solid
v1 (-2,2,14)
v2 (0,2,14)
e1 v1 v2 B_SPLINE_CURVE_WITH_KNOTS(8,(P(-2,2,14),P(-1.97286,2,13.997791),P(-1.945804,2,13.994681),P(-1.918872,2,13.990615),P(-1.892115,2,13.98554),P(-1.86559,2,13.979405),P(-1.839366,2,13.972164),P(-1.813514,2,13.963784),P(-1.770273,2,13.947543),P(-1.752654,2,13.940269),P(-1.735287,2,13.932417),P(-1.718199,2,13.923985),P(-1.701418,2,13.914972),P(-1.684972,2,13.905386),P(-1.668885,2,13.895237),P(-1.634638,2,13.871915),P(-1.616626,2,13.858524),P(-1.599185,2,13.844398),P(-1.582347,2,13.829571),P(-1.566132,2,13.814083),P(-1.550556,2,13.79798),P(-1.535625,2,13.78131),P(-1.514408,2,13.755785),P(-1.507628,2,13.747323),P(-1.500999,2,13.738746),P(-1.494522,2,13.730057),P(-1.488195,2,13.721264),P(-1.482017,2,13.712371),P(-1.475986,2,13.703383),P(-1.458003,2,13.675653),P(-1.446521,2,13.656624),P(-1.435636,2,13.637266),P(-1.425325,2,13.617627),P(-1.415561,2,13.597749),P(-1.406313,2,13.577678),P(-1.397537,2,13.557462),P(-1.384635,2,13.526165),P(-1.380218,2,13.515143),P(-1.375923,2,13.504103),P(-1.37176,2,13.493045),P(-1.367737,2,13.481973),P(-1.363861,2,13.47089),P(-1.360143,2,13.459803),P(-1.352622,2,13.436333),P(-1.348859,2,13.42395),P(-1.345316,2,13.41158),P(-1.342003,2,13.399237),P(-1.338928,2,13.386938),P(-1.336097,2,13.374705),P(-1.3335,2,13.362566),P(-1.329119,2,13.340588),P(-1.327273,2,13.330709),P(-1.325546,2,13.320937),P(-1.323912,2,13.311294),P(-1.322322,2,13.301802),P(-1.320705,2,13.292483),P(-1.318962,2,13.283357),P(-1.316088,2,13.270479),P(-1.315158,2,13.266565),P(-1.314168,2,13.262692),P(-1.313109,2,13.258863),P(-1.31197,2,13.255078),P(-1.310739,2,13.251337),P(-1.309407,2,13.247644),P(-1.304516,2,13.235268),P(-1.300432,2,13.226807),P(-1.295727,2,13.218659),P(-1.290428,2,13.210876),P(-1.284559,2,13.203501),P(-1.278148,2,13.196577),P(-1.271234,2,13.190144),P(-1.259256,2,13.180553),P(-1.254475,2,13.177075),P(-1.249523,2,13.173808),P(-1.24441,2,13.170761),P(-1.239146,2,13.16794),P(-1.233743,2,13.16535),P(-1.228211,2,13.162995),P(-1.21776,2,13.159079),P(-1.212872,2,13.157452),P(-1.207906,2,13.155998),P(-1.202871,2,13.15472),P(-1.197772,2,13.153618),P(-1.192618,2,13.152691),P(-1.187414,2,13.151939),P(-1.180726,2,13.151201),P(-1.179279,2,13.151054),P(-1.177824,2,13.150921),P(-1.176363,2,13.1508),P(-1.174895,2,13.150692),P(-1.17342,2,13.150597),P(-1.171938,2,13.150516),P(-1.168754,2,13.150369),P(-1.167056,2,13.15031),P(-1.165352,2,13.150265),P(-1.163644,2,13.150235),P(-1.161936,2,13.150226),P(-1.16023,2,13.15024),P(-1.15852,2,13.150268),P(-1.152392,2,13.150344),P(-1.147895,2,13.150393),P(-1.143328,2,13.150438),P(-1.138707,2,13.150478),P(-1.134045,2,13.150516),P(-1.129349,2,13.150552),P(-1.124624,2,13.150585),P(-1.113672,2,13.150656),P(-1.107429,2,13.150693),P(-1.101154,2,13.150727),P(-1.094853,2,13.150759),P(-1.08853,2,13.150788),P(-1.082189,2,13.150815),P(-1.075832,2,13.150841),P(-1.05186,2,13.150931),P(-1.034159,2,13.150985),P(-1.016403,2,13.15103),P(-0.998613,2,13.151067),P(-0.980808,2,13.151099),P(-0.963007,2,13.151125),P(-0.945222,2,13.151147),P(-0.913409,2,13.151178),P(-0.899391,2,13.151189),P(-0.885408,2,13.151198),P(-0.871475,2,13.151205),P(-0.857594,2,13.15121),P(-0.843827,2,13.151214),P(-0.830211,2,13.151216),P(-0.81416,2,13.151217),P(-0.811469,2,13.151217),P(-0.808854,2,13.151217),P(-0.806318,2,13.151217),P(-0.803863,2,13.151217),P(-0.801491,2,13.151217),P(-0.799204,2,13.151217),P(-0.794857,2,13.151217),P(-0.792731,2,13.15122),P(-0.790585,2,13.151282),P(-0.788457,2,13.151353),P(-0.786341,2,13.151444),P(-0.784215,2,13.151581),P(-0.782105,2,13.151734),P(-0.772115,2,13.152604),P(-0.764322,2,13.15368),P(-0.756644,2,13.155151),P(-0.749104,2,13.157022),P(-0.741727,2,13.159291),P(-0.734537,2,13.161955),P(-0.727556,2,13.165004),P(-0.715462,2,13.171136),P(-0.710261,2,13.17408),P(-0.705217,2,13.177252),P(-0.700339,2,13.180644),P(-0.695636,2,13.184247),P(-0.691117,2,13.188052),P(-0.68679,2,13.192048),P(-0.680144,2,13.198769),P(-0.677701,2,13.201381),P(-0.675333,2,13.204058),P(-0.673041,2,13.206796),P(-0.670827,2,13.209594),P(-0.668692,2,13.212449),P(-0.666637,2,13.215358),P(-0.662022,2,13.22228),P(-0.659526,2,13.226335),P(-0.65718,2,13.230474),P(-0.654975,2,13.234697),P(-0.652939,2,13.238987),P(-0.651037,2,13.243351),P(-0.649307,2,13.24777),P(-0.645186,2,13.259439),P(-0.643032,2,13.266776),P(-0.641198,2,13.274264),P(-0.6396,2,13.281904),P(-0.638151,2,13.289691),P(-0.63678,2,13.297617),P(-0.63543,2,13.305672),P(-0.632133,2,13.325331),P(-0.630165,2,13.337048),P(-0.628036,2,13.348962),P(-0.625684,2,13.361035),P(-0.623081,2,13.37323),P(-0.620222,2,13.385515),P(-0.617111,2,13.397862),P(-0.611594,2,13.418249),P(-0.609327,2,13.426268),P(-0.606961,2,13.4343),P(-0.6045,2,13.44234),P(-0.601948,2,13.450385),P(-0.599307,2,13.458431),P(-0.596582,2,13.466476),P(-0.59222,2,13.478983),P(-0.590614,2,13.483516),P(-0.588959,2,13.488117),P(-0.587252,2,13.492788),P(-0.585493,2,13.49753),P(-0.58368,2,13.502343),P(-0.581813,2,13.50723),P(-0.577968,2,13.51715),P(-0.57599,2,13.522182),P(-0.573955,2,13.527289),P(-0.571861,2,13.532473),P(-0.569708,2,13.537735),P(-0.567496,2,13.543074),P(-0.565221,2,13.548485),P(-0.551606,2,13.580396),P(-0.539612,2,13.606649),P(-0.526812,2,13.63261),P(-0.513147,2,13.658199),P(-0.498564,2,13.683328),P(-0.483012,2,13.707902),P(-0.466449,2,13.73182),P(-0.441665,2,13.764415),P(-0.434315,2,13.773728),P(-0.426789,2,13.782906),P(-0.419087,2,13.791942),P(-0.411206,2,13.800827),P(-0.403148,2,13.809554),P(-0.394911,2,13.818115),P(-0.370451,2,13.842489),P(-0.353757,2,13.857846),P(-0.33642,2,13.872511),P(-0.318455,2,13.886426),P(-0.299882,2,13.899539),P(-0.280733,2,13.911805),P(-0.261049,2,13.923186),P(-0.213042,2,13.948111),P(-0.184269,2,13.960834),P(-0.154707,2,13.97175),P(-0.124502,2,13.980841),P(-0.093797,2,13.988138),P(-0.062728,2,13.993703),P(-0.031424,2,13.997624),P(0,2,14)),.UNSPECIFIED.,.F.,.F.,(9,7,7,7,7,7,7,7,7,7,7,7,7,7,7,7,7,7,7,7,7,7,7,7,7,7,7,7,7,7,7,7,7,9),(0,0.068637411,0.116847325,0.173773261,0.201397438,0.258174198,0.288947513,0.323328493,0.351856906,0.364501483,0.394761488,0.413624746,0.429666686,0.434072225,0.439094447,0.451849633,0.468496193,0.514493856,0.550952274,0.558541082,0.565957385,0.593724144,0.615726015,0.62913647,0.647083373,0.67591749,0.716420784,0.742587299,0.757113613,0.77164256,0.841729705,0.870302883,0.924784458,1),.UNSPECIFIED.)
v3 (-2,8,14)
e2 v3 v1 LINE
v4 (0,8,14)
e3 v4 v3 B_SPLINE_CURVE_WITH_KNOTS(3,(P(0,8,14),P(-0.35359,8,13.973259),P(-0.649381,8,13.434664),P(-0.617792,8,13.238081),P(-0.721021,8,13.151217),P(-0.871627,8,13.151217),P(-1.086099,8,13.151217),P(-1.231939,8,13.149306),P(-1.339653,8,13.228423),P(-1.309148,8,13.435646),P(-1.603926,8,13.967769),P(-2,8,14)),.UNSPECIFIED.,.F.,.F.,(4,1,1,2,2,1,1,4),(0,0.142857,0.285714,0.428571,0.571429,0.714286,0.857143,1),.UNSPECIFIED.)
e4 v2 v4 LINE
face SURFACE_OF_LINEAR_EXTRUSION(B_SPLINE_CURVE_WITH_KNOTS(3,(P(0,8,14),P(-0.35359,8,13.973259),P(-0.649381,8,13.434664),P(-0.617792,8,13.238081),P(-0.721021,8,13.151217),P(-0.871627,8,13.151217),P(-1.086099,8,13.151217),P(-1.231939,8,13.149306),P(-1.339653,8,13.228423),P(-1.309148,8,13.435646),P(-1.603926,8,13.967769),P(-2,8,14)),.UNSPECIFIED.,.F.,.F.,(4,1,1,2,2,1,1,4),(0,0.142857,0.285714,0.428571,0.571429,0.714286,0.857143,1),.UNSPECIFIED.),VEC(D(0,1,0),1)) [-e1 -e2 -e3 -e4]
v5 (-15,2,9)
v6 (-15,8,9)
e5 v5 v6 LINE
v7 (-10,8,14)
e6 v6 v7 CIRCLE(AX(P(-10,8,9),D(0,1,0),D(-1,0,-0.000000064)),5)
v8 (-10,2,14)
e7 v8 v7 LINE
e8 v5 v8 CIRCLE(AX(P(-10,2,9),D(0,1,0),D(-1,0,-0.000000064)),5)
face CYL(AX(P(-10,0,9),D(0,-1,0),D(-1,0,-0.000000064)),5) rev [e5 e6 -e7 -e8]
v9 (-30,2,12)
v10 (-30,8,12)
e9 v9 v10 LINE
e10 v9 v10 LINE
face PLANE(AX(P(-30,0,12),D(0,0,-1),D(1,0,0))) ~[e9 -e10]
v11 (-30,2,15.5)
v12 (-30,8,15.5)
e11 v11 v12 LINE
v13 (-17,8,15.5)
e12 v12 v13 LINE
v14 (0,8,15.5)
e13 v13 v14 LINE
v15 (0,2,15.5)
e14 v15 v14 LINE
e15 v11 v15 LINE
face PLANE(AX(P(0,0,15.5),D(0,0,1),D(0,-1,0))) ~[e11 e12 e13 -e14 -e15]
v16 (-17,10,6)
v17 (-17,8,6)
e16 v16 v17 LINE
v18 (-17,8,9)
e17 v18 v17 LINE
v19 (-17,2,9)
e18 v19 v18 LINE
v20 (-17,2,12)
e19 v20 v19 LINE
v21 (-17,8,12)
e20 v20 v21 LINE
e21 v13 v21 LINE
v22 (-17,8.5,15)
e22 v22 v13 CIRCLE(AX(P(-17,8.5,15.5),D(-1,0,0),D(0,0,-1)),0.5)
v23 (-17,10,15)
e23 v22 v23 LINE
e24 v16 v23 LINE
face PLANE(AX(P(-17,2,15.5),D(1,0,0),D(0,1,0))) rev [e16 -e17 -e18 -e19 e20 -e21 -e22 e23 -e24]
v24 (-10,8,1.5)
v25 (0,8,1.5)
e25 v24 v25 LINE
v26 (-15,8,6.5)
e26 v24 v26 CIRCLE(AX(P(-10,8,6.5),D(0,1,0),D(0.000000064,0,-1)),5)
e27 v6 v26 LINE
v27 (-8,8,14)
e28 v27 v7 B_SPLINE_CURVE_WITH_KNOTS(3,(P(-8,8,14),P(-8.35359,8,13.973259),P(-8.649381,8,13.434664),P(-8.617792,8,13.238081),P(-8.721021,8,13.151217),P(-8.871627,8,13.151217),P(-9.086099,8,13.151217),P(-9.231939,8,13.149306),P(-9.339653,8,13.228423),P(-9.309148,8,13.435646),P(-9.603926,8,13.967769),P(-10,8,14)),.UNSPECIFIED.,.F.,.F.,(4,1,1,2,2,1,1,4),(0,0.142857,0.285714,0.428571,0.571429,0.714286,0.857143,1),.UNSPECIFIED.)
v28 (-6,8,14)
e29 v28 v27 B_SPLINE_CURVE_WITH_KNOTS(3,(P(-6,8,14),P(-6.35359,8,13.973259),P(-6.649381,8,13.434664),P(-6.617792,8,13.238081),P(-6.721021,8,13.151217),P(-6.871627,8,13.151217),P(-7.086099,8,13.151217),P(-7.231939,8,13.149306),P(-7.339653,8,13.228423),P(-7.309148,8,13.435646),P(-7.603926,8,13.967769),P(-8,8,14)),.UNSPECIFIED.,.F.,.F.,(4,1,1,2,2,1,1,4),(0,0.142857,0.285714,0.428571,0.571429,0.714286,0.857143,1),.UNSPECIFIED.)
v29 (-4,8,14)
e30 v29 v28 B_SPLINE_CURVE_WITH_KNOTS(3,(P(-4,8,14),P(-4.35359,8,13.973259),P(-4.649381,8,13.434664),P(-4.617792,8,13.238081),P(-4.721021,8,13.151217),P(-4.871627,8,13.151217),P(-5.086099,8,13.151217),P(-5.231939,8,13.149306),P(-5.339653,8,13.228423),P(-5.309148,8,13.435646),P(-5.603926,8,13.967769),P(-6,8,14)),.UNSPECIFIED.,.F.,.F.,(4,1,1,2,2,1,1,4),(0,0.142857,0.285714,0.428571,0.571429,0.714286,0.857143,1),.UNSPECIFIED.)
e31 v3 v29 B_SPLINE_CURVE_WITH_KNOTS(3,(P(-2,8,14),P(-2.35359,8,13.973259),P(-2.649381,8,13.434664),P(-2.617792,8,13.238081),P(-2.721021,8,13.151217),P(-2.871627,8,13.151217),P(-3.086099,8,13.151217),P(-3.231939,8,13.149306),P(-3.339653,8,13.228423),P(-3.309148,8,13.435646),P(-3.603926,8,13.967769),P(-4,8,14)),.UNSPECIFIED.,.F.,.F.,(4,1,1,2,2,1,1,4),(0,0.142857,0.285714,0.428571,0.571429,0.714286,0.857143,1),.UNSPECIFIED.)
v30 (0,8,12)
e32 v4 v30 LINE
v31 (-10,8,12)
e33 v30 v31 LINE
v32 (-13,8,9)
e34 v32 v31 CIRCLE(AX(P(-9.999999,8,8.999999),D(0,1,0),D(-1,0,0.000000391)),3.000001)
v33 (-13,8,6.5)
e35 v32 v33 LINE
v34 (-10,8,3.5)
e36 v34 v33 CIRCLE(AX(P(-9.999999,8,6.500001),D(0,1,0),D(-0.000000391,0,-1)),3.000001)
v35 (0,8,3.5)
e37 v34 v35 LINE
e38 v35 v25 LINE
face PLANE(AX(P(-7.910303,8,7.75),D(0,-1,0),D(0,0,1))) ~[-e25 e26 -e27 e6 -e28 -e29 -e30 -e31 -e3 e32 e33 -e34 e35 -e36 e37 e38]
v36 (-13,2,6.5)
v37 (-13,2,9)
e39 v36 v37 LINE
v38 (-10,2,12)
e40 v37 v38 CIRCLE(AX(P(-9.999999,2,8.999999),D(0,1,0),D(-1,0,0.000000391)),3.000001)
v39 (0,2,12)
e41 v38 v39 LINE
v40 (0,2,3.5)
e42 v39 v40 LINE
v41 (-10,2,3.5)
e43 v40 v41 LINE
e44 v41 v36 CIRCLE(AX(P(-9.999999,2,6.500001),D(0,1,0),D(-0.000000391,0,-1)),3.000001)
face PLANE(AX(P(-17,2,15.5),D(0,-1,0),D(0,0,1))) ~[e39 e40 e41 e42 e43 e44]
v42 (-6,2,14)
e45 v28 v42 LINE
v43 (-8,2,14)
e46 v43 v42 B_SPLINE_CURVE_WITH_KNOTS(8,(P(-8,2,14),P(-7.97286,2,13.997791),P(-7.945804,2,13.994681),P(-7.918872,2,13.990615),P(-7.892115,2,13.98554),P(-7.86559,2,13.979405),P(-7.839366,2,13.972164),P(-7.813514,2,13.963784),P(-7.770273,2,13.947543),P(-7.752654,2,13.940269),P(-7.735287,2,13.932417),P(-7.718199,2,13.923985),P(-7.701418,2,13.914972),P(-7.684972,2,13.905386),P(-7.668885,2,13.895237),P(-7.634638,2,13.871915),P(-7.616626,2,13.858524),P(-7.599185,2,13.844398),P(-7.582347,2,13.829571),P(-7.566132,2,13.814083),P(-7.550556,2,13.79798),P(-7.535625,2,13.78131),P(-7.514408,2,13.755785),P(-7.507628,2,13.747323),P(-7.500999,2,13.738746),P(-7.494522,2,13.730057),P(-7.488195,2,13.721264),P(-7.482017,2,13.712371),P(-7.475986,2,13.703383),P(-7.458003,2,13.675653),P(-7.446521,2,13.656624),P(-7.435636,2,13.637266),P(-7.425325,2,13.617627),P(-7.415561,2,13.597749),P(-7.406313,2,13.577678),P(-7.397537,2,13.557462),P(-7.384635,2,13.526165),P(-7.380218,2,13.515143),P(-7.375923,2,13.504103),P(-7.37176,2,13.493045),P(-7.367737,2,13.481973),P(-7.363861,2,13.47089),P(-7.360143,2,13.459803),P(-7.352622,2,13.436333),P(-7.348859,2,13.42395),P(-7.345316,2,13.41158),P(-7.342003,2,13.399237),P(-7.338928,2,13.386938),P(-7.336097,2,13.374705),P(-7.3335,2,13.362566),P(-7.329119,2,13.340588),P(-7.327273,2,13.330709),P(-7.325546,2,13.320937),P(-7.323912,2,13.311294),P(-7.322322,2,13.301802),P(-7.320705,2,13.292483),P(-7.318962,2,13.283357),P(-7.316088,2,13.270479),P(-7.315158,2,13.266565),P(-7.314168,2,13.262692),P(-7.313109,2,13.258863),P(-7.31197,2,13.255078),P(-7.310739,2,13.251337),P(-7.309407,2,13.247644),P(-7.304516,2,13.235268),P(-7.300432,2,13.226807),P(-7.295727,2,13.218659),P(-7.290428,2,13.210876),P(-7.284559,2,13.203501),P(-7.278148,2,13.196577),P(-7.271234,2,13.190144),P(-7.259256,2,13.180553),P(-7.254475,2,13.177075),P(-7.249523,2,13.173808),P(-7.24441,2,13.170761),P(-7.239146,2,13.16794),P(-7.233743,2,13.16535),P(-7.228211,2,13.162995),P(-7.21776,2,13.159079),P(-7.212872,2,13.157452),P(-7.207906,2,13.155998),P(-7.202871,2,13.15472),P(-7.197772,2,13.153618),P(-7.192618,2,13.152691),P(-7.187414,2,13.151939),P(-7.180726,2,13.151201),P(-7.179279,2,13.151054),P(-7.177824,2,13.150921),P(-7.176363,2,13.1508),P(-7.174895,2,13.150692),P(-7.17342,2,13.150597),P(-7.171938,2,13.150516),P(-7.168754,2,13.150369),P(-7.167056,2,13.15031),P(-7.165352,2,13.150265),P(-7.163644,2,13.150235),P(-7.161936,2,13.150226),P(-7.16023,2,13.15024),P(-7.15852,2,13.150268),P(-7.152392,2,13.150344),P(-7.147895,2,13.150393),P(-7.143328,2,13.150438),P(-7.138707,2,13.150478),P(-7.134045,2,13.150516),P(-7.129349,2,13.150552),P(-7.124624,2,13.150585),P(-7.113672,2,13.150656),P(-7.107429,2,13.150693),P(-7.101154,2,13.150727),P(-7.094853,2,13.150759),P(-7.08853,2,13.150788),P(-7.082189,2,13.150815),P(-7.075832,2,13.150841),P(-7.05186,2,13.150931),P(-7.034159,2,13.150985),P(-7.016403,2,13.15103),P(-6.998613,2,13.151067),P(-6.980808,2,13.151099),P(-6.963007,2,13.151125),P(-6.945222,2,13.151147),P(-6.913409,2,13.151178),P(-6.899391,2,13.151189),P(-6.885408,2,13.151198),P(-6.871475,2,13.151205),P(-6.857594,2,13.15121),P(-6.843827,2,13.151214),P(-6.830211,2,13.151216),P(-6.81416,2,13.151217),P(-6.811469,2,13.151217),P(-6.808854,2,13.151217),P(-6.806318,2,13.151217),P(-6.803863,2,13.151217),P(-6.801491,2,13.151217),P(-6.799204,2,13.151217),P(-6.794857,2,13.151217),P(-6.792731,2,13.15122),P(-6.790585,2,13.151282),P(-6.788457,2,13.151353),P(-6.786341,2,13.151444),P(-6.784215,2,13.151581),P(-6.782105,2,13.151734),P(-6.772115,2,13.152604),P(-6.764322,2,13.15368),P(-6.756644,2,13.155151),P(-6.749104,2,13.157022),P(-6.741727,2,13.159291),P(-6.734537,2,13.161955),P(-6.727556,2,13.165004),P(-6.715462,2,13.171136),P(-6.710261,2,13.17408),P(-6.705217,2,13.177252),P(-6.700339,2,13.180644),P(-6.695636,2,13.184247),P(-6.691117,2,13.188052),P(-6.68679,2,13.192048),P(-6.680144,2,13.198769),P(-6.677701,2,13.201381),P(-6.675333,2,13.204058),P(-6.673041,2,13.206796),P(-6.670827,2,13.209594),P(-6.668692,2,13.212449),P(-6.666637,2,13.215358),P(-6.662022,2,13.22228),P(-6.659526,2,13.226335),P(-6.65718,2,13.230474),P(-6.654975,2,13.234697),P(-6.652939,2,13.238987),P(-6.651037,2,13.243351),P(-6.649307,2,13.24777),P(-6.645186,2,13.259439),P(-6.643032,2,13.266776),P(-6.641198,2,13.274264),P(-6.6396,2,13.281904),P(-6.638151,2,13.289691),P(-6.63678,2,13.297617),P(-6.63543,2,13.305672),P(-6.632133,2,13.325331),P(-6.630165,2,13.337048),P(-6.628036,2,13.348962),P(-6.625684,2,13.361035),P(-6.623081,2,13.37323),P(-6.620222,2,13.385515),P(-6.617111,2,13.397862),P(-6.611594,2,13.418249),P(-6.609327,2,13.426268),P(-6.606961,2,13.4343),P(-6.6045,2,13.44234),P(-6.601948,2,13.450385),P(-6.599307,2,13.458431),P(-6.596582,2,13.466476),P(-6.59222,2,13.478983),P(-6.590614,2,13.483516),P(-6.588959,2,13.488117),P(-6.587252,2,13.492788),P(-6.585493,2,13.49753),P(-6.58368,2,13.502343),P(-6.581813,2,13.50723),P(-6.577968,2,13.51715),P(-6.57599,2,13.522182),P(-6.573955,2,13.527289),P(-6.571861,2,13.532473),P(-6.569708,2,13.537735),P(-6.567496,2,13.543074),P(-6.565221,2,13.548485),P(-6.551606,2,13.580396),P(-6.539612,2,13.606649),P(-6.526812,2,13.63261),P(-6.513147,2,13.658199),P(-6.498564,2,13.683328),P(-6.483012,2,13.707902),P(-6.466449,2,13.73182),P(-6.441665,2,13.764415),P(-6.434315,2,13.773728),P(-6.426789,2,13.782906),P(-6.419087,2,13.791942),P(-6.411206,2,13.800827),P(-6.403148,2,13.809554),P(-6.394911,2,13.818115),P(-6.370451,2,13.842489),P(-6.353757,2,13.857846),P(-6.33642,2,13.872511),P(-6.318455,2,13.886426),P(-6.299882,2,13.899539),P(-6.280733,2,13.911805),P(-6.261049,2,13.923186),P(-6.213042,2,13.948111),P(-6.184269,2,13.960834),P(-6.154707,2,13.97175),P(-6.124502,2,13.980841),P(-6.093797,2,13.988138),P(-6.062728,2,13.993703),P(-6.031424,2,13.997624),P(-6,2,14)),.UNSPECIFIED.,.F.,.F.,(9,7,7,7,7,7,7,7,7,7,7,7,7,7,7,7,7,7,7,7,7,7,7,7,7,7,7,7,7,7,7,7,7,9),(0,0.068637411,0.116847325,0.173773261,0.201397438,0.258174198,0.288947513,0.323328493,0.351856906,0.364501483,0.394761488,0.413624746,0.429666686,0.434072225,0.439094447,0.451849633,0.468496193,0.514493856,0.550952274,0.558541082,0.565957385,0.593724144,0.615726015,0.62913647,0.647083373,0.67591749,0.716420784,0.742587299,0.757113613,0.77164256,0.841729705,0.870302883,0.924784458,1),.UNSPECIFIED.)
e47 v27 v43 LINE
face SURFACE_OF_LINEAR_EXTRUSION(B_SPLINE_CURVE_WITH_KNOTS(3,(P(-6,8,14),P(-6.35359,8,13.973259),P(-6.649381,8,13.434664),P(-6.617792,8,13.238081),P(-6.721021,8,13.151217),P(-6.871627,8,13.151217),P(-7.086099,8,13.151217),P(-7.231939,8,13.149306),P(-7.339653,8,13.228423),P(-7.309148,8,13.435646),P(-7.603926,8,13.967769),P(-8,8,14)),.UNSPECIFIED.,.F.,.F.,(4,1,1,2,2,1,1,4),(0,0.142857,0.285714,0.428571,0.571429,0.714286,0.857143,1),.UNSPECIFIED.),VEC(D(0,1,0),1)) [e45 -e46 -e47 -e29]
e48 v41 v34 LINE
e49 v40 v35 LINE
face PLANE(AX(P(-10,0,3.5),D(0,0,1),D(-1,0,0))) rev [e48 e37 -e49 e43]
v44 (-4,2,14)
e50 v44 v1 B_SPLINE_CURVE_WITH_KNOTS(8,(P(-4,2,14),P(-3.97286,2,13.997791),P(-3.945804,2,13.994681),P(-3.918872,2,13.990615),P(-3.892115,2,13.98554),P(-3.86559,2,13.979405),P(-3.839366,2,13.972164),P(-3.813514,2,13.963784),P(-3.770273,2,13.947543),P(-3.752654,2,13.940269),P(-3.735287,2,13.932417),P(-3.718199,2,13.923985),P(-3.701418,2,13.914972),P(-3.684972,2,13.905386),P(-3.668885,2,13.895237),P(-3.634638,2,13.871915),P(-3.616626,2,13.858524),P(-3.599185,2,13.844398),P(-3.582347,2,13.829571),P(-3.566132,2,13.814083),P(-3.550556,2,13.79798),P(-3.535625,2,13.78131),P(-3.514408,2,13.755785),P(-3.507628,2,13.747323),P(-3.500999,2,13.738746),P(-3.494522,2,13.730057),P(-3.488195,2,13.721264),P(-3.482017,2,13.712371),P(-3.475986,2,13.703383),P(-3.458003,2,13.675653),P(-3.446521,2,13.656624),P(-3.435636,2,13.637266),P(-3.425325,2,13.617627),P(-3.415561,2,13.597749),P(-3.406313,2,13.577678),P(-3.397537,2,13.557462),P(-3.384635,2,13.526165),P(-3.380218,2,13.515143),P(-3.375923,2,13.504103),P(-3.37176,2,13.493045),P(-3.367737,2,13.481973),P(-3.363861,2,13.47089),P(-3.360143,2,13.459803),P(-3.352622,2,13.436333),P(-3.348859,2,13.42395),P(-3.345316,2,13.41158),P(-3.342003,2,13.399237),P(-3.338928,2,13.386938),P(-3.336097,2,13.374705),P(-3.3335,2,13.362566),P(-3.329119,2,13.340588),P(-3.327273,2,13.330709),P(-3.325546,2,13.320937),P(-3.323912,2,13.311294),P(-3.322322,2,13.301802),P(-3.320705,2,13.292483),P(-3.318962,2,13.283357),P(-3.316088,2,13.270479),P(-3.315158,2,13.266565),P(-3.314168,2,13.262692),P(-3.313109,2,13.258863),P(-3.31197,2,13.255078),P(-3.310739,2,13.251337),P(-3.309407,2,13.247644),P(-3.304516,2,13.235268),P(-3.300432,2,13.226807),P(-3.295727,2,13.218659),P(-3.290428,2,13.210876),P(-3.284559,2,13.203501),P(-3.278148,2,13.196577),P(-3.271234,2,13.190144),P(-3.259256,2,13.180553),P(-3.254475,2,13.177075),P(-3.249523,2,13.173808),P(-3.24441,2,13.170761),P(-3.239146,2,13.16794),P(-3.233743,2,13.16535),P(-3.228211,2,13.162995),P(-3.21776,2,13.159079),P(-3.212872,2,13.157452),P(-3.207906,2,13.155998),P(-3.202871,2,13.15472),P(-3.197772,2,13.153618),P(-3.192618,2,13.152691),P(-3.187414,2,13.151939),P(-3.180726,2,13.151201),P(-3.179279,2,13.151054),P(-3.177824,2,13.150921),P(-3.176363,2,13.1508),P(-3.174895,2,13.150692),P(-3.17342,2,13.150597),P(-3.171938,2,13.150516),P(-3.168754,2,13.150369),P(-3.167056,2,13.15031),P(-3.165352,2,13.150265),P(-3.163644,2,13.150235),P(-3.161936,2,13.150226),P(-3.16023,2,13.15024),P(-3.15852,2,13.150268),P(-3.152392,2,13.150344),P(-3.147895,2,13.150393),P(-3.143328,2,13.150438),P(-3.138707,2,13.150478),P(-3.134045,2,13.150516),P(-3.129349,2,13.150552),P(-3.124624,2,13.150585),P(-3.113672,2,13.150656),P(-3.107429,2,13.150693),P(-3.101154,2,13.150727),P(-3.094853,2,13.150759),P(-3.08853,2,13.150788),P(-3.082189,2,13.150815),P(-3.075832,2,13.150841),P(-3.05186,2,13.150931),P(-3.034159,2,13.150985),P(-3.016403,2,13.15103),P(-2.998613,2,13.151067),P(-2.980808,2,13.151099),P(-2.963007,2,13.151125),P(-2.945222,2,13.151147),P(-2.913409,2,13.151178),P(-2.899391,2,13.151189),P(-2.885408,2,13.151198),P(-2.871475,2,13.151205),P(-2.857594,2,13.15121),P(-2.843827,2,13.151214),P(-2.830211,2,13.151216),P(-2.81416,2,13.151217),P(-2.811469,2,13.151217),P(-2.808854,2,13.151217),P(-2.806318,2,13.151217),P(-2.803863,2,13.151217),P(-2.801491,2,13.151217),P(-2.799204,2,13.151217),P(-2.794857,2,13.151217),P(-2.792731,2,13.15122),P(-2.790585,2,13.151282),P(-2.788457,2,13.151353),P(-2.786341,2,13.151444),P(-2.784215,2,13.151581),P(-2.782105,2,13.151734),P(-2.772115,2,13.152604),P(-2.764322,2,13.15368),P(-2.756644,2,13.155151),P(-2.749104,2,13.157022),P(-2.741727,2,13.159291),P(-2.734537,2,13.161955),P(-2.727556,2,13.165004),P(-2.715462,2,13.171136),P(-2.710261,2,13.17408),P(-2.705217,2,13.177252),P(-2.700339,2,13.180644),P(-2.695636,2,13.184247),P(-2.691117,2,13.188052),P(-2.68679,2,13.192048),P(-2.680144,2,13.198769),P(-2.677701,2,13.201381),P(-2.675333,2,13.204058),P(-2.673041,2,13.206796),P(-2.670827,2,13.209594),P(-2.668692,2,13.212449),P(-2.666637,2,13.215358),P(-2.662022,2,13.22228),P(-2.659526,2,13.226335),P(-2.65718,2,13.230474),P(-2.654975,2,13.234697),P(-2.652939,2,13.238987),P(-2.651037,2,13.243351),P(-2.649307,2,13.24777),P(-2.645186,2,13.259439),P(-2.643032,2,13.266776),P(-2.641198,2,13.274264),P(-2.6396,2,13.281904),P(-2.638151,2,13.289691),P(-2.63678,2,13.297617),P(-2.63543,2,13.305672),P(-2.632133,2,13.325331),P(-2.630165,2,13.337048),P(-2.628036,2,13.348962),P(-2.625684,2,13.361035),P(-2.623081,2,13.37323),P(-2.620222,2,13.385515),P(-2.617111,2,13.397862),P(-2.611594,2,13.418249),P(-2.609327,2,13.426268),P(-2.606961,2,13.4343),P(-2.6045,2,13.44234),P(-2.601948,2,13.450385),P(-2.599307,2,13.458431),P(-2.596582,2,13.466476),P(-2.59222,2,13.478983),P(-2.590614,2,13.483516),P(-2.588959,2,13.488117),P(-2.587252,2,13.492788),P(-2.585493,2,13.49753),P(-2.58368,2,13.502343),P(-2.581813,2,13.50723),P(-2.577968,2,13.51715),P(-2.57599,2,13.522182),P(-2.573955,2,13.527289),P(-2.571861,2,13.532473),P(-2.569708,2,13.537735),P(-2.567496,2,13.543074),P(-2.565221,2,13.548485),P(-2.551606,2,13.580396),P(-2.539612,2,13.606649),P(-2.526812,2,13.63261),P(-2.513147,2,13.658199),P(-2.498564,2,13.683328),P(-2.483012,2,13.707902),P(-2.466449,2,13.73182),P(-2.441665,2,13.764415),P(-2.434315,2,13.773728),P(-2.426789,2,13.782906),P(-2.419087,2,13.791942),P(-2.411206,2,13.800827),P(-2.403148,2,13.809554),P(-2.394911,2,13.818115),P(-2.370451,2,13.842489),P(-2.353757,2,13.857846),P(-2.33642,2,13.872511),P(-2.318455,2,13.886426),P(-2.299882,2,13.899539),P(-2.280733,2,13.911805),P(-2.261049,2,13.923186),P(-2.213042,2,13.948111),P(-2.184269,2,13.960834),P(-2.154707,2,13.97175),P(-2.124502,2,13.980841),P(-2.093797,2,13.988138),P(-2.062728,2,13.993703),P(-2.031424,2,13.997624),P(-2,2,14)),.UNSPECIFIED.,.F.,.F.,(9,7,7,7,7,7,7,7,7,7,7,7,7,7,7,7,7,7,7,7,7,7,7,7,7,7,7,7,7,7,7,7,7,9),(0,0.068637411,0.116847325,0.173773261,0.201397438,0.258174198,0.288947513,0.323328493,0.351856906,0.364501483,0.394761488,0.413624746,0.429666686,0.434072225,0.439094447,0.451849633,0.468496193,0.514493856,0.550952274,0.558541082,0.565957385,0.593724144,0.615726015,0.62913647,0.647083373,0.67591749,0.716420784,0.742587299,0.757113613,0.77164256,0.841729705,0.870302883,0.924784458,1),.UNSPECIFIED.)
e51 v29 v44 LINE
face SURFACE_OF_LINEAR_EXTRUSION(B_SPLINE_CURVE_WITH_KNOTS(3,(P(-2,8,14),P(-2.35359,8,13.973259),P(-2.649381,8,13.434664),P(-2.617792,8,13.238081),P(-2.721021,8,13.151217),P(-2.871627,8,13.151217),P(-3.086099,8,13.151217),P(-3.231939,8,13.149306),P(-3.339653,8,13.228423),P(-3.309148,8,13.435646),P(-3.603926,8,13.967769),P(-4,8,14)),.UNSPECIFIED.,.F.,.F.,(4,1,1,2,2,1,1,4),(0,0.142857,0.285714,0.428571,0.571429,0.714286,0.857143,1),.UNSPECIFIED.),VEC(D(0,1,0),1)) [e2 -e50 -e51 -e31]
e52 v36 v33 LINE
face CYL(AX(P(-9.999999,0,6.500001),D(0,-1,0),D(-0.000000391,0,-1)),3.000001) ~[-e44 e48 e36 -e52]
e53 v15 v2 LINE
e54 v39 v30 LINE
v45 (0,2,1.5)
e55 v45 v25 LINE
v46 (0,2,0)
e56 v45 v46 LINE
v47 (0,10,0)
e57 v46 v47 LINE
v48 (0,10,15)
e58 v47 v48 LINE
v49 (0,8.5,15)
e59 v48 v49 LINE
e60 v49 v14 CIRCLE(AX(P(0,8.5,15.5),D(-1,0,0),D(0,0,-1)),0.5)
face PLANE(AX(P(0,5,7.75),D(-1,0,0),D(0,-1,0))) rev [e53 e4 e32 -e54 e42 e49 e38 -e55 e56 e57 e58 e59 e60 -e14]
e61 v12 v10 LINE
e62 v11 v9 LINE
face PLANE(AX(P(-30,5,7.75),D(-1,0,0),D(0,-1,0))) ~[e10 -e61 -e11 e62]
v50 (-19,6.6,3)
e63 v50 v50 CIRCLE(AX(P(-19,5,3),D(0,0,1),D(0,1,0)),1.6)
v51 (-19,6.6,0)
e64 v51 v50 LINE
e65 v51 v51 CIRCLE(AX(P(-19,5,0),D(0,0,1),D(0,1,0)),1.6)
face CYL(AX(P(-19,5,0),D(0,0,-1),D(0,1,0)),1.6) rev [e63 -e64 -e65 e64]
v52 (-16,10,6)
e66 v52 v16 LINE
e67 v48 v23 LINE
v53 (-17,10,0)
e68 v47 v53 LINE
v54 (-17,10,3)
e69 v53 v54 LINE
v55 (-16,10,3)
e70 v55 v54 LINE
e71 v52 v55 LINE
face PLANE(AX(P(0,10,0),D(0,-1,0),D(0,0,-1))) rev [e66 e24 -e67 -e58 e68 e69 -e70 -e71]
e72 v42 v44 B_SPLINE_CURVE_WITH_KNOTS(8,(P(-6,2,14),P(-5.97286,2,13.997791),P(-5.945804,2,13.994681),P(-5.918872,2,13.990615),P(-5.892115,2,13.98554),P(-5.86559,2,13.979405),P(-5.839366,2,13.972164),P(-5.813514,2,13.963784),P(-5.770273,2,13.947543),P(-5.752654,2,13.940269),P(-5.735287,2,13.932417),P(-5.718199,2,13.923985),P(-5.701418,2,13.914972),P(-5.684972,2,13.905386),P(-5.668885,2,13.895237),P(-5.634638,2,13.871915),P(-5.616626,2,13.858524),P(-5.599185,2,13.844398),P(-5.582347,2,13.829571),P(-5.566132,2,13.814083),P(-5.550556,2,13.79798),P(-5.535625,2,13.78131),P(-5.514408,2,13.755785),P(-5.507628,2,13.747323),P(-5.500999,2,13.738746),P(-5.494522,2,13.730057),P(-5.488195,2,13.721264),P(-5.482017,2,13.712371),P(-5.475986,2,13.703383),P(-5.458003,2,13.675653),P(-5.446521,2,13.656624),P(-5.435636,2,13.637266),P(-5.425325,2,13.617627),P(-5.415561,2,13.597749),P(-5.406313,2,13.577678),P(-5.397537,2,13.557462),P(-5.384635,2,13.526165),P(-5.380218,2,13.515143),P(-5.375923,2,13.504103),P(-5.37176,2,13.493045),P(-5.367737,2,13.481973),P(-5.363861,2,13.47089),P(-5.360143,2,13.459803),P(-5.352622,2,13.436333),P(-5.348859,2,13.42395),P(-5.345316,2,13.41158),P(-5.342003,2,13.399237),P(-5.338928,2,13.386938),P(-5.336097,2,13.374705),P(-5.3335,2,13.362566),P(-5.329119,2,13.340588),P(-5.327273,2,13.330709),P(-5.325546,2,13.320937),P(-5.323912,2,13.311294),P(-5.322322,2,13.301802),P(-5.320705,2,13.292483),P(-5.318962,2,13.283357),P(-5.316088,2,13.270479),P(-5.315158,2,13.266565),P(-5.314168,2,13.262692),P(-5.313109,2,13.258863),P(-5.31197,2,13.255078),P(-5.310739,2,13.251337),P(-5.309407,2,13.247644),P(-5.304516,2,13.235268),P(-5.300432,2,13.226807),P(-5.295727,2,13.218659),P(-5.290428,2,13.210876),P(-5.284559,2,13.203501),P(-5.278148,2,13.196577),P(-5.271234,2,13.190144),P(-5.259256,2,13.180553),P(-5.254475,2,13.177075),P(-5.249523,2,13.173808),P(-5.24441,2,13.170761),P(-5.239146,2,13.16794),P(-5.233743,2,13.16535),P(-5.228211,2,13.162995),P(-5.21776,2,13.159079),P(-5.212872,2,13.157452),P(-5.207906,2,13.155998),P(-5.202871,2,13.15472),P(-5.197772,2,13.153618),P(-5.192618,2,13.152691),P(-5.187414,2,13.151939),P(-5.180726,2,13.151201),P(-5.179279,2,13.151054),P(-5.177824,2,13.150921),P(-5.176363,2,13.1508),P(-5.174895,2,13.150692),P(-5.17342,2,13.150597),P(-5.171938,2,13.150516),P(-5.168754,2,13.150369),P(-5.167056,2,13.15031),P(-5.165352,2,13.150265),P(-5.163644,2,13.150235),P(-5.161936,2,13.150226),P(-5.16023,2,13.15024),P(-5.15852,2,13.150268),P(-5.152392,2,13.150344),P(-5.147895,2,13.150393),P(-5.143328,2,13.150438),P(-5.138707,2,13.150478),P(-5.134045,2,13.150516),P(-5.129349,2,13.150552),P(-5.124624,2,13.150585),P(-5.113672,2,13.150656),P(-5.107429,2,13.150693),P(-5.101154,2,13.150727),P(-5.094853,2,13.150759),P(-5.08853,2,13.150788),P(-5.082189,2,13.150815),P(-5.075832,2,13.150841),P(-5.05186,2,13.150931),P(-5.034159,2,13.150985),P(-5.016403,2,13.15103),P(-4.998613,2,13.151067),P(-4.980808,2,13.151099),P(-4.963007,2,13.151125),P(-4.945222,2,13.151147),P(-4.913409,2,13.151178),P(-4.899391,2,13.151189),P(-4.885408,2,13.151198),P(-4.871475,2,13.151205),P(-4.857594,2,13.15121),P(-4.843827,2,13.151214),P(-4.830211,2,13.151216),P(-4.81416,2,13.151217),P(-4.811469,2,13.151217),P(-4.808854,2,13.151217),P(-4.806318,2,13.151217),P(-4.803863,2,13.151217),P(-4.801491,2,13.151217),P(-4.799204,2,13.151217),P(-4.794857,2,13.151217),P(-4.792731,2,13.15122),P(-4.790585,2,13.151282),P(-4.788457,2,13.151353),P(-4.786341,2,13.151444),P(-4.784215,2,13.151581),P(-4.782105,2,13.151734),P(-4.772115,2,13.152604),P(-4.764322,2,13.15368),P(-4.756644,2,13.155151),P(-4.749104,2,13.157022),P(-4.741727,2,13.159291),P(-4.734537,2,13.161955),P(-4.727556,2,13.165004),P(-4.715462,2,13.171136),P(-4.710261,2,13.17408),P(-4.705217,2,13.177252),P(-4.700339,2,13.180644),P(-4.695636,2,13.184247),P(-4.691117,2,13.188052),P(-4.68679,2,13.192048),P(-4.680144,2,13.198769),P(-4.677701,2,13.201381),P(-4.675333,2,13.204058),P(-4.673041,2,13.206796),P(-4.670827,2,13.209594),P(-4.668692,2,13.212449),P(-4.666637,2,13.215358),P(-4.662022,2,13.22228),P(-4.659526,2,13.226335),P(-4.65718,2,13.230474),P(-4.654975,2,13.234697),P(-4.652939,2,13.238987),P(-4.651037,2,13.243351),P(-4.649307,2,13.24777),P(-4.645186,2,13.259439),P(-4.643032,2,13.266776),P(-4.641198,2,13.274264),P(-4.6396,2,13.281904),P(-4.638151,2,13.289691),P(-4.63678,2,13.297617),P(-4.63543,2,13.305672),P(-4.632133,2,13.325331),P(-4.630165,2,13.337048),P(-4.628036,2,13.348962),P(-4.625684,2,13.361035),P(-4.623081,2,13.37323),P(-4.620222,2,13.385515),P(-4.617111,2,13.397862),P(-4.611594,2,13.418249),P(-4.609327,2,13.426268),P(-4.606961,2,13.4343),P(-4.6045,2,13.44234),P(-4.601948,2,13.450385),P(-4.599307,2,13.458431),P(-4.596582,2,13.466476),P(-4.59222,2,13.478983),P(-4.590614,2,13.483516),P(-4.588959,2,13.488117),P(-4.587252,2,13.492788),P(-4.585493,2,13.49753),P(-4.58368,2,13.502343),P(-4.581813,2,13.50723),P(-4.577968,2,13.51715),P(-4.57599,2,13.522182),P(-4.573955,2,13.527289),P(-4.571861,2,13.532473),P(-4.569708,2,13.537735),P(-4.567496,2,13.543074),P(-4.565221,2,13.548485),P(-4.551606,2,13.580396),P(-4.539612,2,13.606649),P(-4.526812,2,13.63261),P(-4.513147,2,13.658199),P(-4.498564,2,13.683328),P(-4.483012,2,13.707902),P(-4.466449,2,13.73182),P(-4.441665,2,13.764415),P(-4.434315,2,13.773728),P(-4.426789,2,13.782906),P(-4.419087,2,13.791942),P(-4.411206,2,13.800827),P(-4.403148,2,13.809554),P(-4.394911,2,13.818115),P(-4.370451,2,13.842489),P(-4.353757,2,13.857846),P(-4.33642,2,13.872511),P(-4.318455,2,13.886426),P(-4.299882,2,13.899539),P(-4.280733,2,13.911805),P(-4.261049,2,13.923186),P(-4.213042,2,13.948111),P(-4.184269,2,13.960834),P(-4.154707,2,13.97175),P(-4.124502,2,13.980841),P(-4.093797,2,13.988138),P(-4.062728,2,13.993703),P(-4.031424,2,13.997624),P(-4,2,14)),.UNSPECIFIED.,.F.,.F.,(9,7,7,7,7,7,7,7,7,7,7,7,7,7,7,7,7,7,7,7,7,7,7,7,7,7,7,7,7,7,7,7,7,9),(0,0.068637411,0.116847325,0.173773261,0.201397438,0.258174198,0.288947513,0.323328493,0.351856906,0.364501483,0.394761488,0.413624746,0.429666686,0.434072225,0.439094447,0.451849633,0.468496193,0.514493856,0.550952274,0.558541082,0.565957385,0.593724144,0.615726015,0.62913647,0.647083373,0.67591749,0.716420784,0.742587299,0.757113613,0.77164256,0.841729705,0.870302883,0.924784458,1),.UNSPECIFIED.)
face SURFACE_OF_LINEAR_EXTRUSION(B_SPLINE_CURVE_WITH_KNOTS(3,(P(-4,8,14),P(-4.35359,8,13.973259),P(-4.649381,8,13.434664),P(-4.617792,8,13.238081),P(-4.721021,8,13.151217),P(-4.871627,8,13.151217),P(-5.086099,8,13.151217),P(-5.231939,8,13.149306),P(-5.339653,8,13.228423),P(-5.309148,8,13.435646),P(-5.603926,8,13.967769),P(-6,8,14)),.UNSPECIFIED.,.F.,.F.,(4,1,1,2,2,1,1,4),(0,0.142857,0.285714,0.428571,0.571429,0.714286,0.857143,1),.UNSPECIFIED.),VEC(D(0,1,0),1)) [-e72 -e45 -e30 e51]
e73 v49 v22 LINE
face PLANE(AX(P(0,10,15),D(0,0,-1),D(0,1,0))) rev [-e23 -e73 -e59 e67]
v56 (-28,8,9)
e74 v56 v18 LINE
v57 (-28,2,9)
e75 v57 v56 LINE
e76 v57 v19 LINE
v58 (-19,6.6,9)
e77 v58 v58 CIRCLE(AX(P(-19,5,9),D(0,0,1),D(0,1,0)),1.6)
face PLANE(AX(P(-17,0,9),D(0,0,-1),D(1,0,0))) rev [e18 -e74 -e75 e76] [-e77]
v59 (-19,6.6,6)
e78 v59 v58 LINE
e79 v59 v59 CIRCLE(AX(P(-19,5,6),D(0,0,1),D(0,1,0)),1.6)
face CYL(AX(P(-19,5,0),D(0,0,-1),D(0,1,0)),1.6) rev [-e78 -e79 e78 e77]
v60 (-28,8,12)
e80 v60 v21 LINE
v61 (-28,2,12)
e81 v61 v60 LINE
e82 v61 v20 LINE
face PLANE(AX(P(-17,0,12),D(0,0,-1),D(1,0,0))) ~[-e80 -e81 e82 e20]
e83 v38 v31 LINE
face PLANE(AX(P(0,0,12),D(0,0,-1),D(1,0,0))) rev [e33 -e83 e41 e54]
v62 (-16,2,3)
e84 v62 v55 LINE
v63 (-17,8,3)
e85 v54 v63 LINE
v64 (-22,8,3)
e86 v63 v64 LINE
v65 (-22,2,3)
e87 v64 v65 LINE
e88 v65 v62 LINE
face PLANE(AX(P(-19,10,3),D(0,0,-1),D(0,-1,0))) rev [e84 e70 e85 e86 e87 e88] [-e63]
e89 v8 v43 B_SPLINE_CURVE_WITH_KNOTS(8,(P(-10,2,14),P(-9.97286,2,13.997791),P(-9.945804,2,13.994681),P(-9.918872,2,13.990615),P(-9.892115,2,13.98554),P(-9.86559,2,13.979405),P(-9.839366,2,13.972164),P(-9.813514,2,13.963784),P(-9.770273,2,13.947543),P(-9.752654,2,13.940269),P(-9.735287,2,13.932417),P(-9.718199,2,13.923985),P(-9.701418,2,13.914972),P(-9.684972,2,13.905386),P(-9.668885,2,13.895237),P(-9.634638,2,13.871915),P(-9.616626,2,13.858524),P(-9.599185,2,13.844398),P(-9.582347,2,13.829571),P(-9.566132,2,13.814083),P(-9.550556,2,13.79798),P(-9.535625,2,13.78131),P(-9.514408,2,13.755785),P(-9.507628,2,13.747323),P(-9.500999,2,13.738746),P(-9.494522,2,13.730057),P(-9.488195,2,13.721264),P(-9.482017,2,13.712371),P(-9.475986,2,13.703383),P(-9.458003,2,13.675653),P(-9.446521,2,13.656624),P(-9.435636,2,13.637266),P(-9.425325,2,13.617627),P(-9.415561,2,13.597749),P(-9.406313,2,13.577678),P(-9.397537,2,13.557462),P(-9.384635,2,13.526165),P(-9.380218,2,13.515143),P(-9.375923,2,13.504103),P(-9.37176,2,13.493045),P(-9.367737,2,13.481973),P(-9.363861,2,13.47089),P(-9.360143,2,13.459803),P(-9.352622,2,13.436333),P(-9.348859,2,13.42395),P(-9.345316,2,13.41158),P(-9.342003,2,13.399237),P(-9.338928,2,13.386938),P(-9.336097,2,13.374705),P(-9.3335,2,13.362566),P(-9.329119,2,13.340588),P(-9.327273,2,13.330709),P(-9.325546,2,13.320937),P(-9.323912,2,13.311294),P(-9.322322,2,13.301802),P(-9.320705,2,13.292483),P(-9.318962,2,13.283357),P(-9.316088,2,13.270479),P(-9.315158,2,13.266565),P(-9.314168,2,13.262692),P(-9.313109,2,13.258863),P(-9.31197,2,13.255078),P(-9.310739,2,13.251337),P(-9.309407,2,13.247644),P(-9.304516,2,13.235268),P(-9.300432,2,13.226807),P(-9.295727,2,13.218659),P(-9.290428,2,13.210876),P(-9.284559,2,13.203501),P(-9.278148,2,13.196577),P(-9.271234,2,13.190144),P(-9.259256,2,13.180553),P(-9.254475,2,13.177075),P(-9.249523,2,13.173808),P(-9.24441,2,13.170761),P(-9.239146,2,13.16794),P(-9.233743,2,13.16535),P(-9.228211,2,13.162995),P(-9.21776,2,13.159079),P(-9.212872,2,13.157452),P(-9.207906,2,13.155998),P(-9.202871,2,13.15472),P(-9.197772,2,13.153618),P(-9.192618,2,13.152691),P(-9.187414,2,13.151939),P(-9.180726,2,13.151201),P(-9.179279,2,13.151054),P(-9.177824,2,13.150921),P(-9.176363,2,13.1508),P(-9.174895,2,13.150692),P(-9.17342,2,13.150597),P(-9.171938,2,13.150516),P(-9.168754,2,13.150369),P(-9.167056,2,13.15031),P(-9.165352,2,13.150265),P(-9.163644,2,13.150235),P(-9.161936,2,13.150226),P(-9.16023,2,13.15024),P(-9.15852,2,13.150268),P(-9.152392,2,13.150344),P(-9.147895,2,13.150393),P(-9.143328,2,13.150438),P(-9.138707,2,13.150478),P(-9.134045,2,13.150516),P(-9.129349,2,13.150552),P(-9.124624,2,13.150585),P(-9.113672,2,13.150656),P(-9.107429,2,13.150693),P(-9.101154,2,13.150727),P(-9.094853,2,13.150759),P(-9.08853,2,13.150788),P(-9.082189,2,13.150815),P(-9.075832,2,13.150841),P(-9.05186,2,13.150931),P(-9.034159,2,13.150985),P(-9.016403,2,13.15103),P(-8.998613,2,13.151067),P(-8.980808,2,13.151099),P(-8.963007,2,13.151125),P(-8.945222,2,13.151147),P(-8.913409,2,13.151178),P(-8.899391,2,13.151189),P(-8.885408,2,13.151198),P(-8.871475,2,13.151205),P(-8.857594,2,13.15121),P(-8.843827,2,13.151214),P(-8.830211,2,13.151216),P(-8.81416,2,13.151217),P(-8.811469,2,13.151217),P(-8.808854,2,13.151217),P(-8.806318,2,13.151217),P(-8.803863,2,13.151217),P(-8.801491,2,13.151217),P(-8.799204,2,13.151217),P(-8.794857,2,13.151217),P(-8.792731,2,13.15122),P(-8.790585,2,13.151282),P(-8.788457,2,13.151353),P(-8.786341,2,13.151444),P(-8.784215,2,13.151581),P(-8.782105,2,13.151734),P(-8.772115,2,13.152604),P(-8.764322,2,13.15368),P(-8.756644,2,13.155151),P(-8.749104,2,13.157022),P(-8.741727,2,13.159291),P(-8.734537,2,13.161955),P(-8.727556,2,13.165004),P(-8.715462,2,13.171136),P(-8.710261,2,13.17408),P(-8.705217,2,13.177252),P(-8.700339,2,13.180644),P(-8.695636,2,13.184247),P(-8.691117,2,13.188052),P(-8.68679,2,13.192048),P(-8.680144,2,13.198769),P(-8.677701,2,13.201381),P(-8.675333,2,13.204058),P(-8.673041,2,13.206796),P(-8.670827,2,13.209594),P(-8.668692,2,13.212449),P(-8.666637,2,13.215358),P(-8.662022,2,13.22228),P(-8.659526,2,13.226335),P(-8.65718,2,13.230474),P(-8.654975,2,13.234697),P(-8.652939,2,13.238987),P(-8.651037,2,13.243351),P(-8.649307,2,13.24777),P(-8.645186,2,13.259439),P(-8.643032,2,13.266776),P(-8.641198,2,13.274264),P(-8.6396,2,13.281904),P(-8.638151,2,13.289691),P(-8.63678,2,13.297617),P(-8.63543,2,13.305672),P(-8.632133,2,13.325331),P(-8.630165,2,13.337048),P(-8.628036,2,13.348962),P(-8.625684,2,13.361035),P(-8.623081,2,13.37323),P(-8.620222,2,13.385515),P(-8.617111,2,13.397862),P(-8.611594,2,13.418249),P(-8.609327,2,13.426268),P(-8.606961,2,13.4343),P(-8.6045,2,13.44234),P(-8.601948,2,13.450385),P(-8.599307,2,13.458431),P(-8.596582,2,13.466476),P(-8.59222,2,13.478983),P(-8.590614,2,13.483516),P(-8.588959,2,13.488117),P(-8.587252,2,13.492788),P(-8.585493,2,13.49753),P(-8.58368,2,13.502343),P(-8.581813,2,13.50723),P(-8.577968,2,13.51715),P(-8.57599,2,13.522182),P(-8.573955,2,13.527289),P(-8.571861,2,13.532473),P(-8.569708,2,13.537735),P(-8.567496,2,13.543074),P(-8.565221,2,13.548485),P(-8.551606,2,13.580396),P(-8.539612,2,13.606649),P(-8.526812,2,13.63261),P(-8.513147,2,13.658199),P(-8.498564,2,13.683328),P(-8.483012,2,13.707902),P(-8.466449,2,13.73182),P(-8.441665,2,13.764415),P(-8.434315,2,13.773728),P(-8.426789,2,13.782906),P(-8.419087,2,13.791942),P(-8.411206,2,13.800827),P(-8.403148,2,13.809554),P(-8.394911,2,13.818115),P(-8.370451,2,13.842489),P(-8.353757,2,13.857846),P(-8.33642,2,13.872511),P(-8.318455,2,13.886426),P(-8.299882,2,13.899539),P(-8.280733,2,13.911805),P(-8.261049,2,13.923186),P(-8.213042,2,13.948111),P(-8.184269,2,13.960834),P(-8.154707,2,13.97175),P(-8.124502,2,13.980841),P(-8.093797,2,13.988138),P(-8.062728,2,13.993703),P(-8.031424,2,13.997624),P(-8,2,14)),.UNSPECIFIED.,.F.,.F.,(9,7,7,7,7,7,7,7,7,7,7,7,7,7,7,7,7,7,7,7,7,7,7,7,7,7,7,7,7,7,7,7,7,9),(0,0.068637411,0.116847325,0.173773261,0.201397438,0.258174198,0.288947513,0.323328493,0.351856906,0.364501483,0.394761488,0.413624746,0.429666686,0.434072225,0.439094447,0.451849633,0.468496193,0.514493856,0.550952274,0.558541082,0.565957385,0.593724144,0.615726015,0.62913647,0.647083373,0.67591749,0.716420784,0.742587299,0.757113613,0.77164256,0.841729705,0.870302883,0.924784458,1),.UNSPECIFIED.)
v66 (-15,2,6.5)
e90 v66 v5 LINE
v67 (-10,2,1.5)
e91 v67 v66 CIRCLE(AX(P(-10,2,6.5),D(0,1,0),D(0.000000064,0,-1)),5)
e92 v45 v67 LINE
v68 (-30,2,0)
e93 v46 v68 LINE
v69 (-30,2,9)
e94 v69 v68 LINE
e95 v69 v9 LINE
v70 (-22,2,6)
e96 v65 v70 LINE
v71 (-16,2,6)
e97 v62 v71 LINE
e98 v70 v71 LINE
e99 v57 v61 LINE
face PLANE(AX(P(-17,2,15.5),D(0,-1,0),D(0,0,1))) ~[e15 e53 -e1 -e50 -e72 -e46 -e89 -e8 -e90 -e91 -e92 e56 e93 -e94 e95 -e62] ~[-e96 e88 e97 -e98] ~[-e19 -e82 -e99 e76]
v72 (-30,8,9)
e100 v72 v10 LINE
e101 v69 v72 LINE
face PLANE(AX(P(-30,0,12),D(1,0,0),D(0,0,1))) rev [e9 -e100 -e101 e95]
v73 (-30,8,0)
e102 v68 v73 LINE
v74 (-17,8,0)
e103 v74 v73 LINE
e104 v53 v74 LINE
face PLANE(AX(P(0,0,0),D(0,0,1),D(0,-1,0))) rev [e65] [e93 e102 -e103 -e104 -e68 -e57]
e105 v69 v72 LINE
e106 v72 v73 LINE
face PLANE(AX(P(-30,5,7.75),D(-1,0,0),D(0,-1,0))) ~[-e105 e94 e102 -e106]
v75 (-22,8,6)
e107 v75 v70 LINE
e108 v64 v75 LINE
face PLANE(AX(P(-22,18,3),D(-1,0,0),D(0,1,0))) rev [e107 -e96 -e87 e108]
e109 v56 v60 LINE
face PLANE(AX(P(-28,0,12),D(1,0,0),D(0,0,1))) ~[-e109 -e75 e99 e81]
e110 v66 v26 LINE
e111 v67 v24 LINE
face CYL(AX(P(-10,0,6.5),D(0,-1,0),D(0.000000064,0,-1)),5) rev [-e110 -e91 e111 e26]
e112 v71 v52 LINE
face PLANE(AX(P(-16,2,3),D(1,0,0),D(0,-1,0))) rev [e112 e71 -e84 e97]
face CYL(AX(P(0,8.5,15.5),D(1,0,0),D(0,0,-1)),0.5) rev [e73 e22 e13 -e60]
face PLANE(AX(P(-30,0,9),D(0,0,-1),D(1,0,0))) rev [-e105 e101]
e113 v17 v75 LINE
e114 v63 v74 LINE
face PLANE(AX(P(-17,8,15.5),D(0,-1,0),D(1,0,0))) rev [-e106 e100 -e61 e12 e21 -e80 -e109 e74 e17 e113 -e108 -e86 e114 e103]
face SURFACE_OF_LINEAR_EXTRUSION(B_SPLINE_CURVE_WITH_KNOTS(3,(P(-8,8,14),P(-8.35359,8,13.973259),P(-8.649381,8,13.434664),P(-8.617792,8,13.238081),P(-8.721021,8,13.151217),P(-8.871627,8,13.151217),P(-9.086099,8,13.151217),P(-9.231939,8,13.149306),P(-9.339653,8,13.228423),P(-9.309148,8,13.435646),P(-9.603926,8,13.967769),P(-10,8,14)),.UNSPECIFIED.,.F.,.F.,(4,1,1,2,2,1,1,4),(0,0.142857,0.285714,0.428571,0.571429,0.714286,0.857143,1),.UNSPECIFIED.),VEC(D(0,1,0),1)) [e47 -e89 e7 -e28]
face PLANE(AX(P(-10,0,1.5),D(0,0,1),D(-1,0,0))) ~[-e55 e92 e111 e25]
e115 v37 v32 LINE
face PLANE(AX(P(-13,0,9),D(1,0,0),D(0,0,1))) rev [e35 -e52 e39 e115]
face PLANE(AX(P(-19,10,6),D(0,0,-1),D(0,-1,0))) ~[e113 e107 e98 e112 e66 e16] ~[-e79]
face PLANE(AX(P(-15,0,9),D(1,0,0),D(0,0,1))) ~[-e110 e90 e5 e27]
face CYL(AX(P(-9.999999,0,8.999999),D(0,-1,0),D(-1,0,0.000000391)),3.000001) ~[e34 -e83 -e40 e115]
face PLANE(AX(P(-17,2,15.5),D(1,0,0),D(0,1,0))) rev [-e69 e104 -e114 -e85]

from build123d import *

# Parameters (mm, degrees)
SKETCH_W        = 10
SKETCH_H        = 15.5
PAD_DEPTH       = 30
POCKET001_DEPTH = 30.001
SKETCH003_W     = 3
SKETCH003_H     = 11
SKETCH003_H_2   = 1.990637
POCKET002_DEPTH = 10.001
SKETCH004_W     = 2
SKETCH004_H     = 13
POCKET003_DEPTH = 15.501
SKETCH005_W     = 2
SKETCH005_H     = 13
POCKET004_DEPTH = 15.501
POCKET005_DEPTH = 8
PAD001_DEPTH    = 8
SKETCH010_R     = 1.6
POCKET006_DEPTH = 10
SKETCH013_W     = 2
SKETCH013_H     = 20
POCKET008_DEPTH = 17.001
POCKET009_DEPTH = 3


with BuildPart() as framebase:
    # Sketch → Pad (new body)
    with BuildSketch(Plane.YZ):
        with Locations((5, 7.75)):
            Rectangle(SKETCH_W, SKETCH_H)
    extrude(amount=PAD_DEPTH)

    # Sketch002 (on DatumPlane) → Pocket001 (cut, through all)
    with BuildSketch(Plane(origin=(0, 10, 15.5), x_dir=(0, 1, 0), z_dir=(-1, 0, 0))):
        with BuildLine():
            ThreePointArc((0, -0.5), (0.5, 0), (0, 0.5))
            Line((0, 0.5), (-1.5, 0.5))
            ThreePointArc((-1.5, 0.5), (-2, 0), (-1.5, -0.5))
            Line((0, -0.5), (-1.5, -0.5))
        make_face()
    extrude(amount=-POCKET001_DEPTH, mode=Mode.SUBTRACT)

    # Sketch003 (on DatumPlane) → Pocket002 (cut, through all)
    with BuildSketch(Plane(origin=(30, 0, 15.5), x_dir=(0, 0, -1), z_dir=(0, -1, 0))):
        with Locations((5, -7.5)):
            Rectangle(SKETCH003_W, SKETCH003_H)
        with Locations((5, 0.995318)):
            Rectangle(SKETCH003_W, SKETCH003_H_2)
    extrude(amount=-POCKET002_DEPTH, mode=Mode.SUBTRACT)

    # Sketch004 (on DatumPlane) → Pocket003 (cut, through all)
    with BuildSketch(Plane(origin=(30, 0, 15.5), x_dir=(0, -1, 0), z_dir=(0, 0, 1))):
        with Locations((-1, -6.5)):
            Rectangle(SKETCH004_W, SKETCH004_H)
    extrude(amount=-POCKET003_DEPTH, mode=Mode.SUBTRACT)

    # Sketch005 (on DatumPlane) → Pocket004 (cut, through all)
    with BuildSketch(Plane(origin=(30, 10, 15.5), x_dir=(0, -1, 0), z_dir=(0, 0, 1))):
        with Locations((1, -6.5)):
            Rectangle(SKETCH005_W, SKETCH005_H)
    extrude(amount=-POCKET004_DEPTH, mode=Mode.SUBTRACT)

    # Sketch006 (on DatumPlane) → Pocket005 (cut)
    with BuildSketch(Plane(origin=(0, 0, 15.5), x_dir=(0, 0, -1), z_dir=(0, -1, 0))):
        with BuildLine():
            Line((1.5, 0), (3.5, 0))
            Line((3.5, 0), (3.5, 10))
            ThreePointArc((6.5, 13), (4.37868, 12.12132), (3.5, 10))
            Line((6.5, 13), (9, 13))
            ThreePointArc((12, 10), (11.12132, 12.12132), (9, 13))
            Line((12, 10), (12, 0))
            Line((12, 0), (14, 0))
            Line((14, 10), (14, 0))
            ThreePointArc((14, 10), (12.535534, 13.535534), (9, 15))
            Line((6.5, 15), (9, 15))
            ThreePointArc((6.5, 15), (2.964466, 13.535534), (1.5, 10))
            Line((1.5, 10), (1.5, 0))
        make_face()
    extrude(amount=-POCKET005_DEPTH, mode=Mode.SUBTRACT)

    # Sketch008 (on DatumPlane) → Pad001 (join)
    with BuildSketch(Plane(origin=(0, 8, 14), x_dir=(1, 0, 0), z_dir=(0, -1, 0))):
        with BuildLine():
            add(Edge.make_bspline(
                [(0, 0), (0.35359, -0.026741), (0.649381, -0.565336), (0.617792, -0.761919), (0.721021, -0.848783), (0.871627, -0.848783), (1.086099, -0.848783), (1.231939, -0.850694), (1.339653, -0.771577), (1.309148, -0.564354), (1.603926, -0.032231), (2, 0)],
                knots=[0, 0, 0, 0, 0.142857, 0.285714, 0.428571, 0.428571, 0.571429, 0.571429, 0.714286, 0.857143, 1, 1, 1, 1], degree=3))
            add(Edge.make_bspline(
                [(2, 0), (2.35359, -0.026741), (2.649381, -0.565336), (2.617792, -0.761919), (2.721021, -0.848783), (2.871627, -0.848783), (3.086099, -0.848783), (3.231939, -0.850694), (3.339653, -0.771577), (3.309148, -0.564354), (3.603926, -0.032231), (4, 0)],
                knots=[0, 0, 0, 0, 0.142857, 0.285714, 0.428571, 0.428571, 0.571429, 0.571429, 0.714286, 0.857143, 1, 1, 1, 1], degree=3))
            add(Edge.make_bspline(
                [(4, 0), (4.35359, -0.026741), (4.649381, -0.565336), (4.617792, -0.761919), (4.721021, -0.848783), (4.871627, -0.848783), (5.086099, -0.848783), (5.231939, -0.850694), (5.339653, -0.771577), (5.309148, -0.564354), (5.603926, -0.032231), (6, 0)],
                knots=[0, 0, 0, 0, 0.142857, 0.285714, 0.428571, 0.428571, 0.571429, 0.571429, 0.714286, 0.857143, 1, 1, 1, 1], degree=3))
            add(Edge.make_bspline(
                [(6, 0), (6.35359, -0.026741), (6.649381, -0.565336), (6.617792, -0.761919), (6.721021, -0.848783), (6.871627, -0.848783), (7.086099, -0.848783), (7.231939, -0.850694), (7.339653, -0.771577), (7.309148, -0.564354), (7.603926, -0.032231), (8, 0)],
                knots=[0, 0, 0, 0, 0.142857, 0.285714, 0.428571, 0.428571, 0.571429, 0.571429, 0.714286, 0.857143, 1, 1, 1, 1], degree=3))
            add(Edge.make_bspline(
                [(8, 0), (8.35359, -0.026741), (8.649381, -0.565336), (8.617792, -0.761919), (8.721021, -0.848783), (8.871627, -0.848783), (9.086099, -0.848783), (9.231939, -0.850694), (9.339653, -0.771577), (9.309148, -0.564354), (9.603926, -0.032231), (10, 0)],
                knots=[0, 0, 0, 0, 0.142857, 0.285714, 0.428571, 0.428571, 0.571429, 0.571429, 0.714286, 0.857143, 1, 1, 1, 1], degree=3))
            Line((10, 0), (10, 1))
            Line((10, 1), (0, 1))
            Line((0, 1), (0, 0))
        make_face()
    extrude(amount=PAD001_DEPTH)

    # Sketch010 (on DatumPlane) → Pocket006 (cut)
    with BuildSketch(Plane(origin=(30, 0, 0), x_dir=(0, 1, 0), z_dir=(0, 0, -1))):
        with Locations((5, -11)):
            Circle(SKETCH010_R)
    extrude(amount=-POCKET006_DEPTH, mode=Mode.SUBTRACT)

    # Sketch013 (on DatumPlane) → Pocket008 (cut, through all)
    with BuildSketch(Plane(origin=(17, 2, 15.5), x_dir=(0, -1, 0), z_dir=(1, 0, 0))):
        with Locations((1, 10)):
            Rectangle(SKETCH013_W, SKETCH013_H)
    extrude(amount=-POCKET008_DEPTH, mode=Mode.SUBTRACT)

    # Sketch014 (on DatumPlane) → Pocket009 (cut)
    with BuildSketch(Plane(origin=(30, 0, 3), x_dir=(0, 1, 0), z_dir=(0, 0, -1))):
        Polygon((8, -8), (2, -8), (2, -14), (8, -14), (18, -14), (18, -8), align=None)
    extrude(amount=-POCKET009_DEPTH, mode=Mode.SUBTRACT)


with BuildPart() as framebase_right_mirrored:
    # Part__Mirroring: instance of FrameBase
    add(framebase.part.mirror(Plane(origin=(0, 0, 0), x_dir=(0, -1, 0), z_dir=(1, 0, 0))))


solid = framebase_right_mirrored.part
